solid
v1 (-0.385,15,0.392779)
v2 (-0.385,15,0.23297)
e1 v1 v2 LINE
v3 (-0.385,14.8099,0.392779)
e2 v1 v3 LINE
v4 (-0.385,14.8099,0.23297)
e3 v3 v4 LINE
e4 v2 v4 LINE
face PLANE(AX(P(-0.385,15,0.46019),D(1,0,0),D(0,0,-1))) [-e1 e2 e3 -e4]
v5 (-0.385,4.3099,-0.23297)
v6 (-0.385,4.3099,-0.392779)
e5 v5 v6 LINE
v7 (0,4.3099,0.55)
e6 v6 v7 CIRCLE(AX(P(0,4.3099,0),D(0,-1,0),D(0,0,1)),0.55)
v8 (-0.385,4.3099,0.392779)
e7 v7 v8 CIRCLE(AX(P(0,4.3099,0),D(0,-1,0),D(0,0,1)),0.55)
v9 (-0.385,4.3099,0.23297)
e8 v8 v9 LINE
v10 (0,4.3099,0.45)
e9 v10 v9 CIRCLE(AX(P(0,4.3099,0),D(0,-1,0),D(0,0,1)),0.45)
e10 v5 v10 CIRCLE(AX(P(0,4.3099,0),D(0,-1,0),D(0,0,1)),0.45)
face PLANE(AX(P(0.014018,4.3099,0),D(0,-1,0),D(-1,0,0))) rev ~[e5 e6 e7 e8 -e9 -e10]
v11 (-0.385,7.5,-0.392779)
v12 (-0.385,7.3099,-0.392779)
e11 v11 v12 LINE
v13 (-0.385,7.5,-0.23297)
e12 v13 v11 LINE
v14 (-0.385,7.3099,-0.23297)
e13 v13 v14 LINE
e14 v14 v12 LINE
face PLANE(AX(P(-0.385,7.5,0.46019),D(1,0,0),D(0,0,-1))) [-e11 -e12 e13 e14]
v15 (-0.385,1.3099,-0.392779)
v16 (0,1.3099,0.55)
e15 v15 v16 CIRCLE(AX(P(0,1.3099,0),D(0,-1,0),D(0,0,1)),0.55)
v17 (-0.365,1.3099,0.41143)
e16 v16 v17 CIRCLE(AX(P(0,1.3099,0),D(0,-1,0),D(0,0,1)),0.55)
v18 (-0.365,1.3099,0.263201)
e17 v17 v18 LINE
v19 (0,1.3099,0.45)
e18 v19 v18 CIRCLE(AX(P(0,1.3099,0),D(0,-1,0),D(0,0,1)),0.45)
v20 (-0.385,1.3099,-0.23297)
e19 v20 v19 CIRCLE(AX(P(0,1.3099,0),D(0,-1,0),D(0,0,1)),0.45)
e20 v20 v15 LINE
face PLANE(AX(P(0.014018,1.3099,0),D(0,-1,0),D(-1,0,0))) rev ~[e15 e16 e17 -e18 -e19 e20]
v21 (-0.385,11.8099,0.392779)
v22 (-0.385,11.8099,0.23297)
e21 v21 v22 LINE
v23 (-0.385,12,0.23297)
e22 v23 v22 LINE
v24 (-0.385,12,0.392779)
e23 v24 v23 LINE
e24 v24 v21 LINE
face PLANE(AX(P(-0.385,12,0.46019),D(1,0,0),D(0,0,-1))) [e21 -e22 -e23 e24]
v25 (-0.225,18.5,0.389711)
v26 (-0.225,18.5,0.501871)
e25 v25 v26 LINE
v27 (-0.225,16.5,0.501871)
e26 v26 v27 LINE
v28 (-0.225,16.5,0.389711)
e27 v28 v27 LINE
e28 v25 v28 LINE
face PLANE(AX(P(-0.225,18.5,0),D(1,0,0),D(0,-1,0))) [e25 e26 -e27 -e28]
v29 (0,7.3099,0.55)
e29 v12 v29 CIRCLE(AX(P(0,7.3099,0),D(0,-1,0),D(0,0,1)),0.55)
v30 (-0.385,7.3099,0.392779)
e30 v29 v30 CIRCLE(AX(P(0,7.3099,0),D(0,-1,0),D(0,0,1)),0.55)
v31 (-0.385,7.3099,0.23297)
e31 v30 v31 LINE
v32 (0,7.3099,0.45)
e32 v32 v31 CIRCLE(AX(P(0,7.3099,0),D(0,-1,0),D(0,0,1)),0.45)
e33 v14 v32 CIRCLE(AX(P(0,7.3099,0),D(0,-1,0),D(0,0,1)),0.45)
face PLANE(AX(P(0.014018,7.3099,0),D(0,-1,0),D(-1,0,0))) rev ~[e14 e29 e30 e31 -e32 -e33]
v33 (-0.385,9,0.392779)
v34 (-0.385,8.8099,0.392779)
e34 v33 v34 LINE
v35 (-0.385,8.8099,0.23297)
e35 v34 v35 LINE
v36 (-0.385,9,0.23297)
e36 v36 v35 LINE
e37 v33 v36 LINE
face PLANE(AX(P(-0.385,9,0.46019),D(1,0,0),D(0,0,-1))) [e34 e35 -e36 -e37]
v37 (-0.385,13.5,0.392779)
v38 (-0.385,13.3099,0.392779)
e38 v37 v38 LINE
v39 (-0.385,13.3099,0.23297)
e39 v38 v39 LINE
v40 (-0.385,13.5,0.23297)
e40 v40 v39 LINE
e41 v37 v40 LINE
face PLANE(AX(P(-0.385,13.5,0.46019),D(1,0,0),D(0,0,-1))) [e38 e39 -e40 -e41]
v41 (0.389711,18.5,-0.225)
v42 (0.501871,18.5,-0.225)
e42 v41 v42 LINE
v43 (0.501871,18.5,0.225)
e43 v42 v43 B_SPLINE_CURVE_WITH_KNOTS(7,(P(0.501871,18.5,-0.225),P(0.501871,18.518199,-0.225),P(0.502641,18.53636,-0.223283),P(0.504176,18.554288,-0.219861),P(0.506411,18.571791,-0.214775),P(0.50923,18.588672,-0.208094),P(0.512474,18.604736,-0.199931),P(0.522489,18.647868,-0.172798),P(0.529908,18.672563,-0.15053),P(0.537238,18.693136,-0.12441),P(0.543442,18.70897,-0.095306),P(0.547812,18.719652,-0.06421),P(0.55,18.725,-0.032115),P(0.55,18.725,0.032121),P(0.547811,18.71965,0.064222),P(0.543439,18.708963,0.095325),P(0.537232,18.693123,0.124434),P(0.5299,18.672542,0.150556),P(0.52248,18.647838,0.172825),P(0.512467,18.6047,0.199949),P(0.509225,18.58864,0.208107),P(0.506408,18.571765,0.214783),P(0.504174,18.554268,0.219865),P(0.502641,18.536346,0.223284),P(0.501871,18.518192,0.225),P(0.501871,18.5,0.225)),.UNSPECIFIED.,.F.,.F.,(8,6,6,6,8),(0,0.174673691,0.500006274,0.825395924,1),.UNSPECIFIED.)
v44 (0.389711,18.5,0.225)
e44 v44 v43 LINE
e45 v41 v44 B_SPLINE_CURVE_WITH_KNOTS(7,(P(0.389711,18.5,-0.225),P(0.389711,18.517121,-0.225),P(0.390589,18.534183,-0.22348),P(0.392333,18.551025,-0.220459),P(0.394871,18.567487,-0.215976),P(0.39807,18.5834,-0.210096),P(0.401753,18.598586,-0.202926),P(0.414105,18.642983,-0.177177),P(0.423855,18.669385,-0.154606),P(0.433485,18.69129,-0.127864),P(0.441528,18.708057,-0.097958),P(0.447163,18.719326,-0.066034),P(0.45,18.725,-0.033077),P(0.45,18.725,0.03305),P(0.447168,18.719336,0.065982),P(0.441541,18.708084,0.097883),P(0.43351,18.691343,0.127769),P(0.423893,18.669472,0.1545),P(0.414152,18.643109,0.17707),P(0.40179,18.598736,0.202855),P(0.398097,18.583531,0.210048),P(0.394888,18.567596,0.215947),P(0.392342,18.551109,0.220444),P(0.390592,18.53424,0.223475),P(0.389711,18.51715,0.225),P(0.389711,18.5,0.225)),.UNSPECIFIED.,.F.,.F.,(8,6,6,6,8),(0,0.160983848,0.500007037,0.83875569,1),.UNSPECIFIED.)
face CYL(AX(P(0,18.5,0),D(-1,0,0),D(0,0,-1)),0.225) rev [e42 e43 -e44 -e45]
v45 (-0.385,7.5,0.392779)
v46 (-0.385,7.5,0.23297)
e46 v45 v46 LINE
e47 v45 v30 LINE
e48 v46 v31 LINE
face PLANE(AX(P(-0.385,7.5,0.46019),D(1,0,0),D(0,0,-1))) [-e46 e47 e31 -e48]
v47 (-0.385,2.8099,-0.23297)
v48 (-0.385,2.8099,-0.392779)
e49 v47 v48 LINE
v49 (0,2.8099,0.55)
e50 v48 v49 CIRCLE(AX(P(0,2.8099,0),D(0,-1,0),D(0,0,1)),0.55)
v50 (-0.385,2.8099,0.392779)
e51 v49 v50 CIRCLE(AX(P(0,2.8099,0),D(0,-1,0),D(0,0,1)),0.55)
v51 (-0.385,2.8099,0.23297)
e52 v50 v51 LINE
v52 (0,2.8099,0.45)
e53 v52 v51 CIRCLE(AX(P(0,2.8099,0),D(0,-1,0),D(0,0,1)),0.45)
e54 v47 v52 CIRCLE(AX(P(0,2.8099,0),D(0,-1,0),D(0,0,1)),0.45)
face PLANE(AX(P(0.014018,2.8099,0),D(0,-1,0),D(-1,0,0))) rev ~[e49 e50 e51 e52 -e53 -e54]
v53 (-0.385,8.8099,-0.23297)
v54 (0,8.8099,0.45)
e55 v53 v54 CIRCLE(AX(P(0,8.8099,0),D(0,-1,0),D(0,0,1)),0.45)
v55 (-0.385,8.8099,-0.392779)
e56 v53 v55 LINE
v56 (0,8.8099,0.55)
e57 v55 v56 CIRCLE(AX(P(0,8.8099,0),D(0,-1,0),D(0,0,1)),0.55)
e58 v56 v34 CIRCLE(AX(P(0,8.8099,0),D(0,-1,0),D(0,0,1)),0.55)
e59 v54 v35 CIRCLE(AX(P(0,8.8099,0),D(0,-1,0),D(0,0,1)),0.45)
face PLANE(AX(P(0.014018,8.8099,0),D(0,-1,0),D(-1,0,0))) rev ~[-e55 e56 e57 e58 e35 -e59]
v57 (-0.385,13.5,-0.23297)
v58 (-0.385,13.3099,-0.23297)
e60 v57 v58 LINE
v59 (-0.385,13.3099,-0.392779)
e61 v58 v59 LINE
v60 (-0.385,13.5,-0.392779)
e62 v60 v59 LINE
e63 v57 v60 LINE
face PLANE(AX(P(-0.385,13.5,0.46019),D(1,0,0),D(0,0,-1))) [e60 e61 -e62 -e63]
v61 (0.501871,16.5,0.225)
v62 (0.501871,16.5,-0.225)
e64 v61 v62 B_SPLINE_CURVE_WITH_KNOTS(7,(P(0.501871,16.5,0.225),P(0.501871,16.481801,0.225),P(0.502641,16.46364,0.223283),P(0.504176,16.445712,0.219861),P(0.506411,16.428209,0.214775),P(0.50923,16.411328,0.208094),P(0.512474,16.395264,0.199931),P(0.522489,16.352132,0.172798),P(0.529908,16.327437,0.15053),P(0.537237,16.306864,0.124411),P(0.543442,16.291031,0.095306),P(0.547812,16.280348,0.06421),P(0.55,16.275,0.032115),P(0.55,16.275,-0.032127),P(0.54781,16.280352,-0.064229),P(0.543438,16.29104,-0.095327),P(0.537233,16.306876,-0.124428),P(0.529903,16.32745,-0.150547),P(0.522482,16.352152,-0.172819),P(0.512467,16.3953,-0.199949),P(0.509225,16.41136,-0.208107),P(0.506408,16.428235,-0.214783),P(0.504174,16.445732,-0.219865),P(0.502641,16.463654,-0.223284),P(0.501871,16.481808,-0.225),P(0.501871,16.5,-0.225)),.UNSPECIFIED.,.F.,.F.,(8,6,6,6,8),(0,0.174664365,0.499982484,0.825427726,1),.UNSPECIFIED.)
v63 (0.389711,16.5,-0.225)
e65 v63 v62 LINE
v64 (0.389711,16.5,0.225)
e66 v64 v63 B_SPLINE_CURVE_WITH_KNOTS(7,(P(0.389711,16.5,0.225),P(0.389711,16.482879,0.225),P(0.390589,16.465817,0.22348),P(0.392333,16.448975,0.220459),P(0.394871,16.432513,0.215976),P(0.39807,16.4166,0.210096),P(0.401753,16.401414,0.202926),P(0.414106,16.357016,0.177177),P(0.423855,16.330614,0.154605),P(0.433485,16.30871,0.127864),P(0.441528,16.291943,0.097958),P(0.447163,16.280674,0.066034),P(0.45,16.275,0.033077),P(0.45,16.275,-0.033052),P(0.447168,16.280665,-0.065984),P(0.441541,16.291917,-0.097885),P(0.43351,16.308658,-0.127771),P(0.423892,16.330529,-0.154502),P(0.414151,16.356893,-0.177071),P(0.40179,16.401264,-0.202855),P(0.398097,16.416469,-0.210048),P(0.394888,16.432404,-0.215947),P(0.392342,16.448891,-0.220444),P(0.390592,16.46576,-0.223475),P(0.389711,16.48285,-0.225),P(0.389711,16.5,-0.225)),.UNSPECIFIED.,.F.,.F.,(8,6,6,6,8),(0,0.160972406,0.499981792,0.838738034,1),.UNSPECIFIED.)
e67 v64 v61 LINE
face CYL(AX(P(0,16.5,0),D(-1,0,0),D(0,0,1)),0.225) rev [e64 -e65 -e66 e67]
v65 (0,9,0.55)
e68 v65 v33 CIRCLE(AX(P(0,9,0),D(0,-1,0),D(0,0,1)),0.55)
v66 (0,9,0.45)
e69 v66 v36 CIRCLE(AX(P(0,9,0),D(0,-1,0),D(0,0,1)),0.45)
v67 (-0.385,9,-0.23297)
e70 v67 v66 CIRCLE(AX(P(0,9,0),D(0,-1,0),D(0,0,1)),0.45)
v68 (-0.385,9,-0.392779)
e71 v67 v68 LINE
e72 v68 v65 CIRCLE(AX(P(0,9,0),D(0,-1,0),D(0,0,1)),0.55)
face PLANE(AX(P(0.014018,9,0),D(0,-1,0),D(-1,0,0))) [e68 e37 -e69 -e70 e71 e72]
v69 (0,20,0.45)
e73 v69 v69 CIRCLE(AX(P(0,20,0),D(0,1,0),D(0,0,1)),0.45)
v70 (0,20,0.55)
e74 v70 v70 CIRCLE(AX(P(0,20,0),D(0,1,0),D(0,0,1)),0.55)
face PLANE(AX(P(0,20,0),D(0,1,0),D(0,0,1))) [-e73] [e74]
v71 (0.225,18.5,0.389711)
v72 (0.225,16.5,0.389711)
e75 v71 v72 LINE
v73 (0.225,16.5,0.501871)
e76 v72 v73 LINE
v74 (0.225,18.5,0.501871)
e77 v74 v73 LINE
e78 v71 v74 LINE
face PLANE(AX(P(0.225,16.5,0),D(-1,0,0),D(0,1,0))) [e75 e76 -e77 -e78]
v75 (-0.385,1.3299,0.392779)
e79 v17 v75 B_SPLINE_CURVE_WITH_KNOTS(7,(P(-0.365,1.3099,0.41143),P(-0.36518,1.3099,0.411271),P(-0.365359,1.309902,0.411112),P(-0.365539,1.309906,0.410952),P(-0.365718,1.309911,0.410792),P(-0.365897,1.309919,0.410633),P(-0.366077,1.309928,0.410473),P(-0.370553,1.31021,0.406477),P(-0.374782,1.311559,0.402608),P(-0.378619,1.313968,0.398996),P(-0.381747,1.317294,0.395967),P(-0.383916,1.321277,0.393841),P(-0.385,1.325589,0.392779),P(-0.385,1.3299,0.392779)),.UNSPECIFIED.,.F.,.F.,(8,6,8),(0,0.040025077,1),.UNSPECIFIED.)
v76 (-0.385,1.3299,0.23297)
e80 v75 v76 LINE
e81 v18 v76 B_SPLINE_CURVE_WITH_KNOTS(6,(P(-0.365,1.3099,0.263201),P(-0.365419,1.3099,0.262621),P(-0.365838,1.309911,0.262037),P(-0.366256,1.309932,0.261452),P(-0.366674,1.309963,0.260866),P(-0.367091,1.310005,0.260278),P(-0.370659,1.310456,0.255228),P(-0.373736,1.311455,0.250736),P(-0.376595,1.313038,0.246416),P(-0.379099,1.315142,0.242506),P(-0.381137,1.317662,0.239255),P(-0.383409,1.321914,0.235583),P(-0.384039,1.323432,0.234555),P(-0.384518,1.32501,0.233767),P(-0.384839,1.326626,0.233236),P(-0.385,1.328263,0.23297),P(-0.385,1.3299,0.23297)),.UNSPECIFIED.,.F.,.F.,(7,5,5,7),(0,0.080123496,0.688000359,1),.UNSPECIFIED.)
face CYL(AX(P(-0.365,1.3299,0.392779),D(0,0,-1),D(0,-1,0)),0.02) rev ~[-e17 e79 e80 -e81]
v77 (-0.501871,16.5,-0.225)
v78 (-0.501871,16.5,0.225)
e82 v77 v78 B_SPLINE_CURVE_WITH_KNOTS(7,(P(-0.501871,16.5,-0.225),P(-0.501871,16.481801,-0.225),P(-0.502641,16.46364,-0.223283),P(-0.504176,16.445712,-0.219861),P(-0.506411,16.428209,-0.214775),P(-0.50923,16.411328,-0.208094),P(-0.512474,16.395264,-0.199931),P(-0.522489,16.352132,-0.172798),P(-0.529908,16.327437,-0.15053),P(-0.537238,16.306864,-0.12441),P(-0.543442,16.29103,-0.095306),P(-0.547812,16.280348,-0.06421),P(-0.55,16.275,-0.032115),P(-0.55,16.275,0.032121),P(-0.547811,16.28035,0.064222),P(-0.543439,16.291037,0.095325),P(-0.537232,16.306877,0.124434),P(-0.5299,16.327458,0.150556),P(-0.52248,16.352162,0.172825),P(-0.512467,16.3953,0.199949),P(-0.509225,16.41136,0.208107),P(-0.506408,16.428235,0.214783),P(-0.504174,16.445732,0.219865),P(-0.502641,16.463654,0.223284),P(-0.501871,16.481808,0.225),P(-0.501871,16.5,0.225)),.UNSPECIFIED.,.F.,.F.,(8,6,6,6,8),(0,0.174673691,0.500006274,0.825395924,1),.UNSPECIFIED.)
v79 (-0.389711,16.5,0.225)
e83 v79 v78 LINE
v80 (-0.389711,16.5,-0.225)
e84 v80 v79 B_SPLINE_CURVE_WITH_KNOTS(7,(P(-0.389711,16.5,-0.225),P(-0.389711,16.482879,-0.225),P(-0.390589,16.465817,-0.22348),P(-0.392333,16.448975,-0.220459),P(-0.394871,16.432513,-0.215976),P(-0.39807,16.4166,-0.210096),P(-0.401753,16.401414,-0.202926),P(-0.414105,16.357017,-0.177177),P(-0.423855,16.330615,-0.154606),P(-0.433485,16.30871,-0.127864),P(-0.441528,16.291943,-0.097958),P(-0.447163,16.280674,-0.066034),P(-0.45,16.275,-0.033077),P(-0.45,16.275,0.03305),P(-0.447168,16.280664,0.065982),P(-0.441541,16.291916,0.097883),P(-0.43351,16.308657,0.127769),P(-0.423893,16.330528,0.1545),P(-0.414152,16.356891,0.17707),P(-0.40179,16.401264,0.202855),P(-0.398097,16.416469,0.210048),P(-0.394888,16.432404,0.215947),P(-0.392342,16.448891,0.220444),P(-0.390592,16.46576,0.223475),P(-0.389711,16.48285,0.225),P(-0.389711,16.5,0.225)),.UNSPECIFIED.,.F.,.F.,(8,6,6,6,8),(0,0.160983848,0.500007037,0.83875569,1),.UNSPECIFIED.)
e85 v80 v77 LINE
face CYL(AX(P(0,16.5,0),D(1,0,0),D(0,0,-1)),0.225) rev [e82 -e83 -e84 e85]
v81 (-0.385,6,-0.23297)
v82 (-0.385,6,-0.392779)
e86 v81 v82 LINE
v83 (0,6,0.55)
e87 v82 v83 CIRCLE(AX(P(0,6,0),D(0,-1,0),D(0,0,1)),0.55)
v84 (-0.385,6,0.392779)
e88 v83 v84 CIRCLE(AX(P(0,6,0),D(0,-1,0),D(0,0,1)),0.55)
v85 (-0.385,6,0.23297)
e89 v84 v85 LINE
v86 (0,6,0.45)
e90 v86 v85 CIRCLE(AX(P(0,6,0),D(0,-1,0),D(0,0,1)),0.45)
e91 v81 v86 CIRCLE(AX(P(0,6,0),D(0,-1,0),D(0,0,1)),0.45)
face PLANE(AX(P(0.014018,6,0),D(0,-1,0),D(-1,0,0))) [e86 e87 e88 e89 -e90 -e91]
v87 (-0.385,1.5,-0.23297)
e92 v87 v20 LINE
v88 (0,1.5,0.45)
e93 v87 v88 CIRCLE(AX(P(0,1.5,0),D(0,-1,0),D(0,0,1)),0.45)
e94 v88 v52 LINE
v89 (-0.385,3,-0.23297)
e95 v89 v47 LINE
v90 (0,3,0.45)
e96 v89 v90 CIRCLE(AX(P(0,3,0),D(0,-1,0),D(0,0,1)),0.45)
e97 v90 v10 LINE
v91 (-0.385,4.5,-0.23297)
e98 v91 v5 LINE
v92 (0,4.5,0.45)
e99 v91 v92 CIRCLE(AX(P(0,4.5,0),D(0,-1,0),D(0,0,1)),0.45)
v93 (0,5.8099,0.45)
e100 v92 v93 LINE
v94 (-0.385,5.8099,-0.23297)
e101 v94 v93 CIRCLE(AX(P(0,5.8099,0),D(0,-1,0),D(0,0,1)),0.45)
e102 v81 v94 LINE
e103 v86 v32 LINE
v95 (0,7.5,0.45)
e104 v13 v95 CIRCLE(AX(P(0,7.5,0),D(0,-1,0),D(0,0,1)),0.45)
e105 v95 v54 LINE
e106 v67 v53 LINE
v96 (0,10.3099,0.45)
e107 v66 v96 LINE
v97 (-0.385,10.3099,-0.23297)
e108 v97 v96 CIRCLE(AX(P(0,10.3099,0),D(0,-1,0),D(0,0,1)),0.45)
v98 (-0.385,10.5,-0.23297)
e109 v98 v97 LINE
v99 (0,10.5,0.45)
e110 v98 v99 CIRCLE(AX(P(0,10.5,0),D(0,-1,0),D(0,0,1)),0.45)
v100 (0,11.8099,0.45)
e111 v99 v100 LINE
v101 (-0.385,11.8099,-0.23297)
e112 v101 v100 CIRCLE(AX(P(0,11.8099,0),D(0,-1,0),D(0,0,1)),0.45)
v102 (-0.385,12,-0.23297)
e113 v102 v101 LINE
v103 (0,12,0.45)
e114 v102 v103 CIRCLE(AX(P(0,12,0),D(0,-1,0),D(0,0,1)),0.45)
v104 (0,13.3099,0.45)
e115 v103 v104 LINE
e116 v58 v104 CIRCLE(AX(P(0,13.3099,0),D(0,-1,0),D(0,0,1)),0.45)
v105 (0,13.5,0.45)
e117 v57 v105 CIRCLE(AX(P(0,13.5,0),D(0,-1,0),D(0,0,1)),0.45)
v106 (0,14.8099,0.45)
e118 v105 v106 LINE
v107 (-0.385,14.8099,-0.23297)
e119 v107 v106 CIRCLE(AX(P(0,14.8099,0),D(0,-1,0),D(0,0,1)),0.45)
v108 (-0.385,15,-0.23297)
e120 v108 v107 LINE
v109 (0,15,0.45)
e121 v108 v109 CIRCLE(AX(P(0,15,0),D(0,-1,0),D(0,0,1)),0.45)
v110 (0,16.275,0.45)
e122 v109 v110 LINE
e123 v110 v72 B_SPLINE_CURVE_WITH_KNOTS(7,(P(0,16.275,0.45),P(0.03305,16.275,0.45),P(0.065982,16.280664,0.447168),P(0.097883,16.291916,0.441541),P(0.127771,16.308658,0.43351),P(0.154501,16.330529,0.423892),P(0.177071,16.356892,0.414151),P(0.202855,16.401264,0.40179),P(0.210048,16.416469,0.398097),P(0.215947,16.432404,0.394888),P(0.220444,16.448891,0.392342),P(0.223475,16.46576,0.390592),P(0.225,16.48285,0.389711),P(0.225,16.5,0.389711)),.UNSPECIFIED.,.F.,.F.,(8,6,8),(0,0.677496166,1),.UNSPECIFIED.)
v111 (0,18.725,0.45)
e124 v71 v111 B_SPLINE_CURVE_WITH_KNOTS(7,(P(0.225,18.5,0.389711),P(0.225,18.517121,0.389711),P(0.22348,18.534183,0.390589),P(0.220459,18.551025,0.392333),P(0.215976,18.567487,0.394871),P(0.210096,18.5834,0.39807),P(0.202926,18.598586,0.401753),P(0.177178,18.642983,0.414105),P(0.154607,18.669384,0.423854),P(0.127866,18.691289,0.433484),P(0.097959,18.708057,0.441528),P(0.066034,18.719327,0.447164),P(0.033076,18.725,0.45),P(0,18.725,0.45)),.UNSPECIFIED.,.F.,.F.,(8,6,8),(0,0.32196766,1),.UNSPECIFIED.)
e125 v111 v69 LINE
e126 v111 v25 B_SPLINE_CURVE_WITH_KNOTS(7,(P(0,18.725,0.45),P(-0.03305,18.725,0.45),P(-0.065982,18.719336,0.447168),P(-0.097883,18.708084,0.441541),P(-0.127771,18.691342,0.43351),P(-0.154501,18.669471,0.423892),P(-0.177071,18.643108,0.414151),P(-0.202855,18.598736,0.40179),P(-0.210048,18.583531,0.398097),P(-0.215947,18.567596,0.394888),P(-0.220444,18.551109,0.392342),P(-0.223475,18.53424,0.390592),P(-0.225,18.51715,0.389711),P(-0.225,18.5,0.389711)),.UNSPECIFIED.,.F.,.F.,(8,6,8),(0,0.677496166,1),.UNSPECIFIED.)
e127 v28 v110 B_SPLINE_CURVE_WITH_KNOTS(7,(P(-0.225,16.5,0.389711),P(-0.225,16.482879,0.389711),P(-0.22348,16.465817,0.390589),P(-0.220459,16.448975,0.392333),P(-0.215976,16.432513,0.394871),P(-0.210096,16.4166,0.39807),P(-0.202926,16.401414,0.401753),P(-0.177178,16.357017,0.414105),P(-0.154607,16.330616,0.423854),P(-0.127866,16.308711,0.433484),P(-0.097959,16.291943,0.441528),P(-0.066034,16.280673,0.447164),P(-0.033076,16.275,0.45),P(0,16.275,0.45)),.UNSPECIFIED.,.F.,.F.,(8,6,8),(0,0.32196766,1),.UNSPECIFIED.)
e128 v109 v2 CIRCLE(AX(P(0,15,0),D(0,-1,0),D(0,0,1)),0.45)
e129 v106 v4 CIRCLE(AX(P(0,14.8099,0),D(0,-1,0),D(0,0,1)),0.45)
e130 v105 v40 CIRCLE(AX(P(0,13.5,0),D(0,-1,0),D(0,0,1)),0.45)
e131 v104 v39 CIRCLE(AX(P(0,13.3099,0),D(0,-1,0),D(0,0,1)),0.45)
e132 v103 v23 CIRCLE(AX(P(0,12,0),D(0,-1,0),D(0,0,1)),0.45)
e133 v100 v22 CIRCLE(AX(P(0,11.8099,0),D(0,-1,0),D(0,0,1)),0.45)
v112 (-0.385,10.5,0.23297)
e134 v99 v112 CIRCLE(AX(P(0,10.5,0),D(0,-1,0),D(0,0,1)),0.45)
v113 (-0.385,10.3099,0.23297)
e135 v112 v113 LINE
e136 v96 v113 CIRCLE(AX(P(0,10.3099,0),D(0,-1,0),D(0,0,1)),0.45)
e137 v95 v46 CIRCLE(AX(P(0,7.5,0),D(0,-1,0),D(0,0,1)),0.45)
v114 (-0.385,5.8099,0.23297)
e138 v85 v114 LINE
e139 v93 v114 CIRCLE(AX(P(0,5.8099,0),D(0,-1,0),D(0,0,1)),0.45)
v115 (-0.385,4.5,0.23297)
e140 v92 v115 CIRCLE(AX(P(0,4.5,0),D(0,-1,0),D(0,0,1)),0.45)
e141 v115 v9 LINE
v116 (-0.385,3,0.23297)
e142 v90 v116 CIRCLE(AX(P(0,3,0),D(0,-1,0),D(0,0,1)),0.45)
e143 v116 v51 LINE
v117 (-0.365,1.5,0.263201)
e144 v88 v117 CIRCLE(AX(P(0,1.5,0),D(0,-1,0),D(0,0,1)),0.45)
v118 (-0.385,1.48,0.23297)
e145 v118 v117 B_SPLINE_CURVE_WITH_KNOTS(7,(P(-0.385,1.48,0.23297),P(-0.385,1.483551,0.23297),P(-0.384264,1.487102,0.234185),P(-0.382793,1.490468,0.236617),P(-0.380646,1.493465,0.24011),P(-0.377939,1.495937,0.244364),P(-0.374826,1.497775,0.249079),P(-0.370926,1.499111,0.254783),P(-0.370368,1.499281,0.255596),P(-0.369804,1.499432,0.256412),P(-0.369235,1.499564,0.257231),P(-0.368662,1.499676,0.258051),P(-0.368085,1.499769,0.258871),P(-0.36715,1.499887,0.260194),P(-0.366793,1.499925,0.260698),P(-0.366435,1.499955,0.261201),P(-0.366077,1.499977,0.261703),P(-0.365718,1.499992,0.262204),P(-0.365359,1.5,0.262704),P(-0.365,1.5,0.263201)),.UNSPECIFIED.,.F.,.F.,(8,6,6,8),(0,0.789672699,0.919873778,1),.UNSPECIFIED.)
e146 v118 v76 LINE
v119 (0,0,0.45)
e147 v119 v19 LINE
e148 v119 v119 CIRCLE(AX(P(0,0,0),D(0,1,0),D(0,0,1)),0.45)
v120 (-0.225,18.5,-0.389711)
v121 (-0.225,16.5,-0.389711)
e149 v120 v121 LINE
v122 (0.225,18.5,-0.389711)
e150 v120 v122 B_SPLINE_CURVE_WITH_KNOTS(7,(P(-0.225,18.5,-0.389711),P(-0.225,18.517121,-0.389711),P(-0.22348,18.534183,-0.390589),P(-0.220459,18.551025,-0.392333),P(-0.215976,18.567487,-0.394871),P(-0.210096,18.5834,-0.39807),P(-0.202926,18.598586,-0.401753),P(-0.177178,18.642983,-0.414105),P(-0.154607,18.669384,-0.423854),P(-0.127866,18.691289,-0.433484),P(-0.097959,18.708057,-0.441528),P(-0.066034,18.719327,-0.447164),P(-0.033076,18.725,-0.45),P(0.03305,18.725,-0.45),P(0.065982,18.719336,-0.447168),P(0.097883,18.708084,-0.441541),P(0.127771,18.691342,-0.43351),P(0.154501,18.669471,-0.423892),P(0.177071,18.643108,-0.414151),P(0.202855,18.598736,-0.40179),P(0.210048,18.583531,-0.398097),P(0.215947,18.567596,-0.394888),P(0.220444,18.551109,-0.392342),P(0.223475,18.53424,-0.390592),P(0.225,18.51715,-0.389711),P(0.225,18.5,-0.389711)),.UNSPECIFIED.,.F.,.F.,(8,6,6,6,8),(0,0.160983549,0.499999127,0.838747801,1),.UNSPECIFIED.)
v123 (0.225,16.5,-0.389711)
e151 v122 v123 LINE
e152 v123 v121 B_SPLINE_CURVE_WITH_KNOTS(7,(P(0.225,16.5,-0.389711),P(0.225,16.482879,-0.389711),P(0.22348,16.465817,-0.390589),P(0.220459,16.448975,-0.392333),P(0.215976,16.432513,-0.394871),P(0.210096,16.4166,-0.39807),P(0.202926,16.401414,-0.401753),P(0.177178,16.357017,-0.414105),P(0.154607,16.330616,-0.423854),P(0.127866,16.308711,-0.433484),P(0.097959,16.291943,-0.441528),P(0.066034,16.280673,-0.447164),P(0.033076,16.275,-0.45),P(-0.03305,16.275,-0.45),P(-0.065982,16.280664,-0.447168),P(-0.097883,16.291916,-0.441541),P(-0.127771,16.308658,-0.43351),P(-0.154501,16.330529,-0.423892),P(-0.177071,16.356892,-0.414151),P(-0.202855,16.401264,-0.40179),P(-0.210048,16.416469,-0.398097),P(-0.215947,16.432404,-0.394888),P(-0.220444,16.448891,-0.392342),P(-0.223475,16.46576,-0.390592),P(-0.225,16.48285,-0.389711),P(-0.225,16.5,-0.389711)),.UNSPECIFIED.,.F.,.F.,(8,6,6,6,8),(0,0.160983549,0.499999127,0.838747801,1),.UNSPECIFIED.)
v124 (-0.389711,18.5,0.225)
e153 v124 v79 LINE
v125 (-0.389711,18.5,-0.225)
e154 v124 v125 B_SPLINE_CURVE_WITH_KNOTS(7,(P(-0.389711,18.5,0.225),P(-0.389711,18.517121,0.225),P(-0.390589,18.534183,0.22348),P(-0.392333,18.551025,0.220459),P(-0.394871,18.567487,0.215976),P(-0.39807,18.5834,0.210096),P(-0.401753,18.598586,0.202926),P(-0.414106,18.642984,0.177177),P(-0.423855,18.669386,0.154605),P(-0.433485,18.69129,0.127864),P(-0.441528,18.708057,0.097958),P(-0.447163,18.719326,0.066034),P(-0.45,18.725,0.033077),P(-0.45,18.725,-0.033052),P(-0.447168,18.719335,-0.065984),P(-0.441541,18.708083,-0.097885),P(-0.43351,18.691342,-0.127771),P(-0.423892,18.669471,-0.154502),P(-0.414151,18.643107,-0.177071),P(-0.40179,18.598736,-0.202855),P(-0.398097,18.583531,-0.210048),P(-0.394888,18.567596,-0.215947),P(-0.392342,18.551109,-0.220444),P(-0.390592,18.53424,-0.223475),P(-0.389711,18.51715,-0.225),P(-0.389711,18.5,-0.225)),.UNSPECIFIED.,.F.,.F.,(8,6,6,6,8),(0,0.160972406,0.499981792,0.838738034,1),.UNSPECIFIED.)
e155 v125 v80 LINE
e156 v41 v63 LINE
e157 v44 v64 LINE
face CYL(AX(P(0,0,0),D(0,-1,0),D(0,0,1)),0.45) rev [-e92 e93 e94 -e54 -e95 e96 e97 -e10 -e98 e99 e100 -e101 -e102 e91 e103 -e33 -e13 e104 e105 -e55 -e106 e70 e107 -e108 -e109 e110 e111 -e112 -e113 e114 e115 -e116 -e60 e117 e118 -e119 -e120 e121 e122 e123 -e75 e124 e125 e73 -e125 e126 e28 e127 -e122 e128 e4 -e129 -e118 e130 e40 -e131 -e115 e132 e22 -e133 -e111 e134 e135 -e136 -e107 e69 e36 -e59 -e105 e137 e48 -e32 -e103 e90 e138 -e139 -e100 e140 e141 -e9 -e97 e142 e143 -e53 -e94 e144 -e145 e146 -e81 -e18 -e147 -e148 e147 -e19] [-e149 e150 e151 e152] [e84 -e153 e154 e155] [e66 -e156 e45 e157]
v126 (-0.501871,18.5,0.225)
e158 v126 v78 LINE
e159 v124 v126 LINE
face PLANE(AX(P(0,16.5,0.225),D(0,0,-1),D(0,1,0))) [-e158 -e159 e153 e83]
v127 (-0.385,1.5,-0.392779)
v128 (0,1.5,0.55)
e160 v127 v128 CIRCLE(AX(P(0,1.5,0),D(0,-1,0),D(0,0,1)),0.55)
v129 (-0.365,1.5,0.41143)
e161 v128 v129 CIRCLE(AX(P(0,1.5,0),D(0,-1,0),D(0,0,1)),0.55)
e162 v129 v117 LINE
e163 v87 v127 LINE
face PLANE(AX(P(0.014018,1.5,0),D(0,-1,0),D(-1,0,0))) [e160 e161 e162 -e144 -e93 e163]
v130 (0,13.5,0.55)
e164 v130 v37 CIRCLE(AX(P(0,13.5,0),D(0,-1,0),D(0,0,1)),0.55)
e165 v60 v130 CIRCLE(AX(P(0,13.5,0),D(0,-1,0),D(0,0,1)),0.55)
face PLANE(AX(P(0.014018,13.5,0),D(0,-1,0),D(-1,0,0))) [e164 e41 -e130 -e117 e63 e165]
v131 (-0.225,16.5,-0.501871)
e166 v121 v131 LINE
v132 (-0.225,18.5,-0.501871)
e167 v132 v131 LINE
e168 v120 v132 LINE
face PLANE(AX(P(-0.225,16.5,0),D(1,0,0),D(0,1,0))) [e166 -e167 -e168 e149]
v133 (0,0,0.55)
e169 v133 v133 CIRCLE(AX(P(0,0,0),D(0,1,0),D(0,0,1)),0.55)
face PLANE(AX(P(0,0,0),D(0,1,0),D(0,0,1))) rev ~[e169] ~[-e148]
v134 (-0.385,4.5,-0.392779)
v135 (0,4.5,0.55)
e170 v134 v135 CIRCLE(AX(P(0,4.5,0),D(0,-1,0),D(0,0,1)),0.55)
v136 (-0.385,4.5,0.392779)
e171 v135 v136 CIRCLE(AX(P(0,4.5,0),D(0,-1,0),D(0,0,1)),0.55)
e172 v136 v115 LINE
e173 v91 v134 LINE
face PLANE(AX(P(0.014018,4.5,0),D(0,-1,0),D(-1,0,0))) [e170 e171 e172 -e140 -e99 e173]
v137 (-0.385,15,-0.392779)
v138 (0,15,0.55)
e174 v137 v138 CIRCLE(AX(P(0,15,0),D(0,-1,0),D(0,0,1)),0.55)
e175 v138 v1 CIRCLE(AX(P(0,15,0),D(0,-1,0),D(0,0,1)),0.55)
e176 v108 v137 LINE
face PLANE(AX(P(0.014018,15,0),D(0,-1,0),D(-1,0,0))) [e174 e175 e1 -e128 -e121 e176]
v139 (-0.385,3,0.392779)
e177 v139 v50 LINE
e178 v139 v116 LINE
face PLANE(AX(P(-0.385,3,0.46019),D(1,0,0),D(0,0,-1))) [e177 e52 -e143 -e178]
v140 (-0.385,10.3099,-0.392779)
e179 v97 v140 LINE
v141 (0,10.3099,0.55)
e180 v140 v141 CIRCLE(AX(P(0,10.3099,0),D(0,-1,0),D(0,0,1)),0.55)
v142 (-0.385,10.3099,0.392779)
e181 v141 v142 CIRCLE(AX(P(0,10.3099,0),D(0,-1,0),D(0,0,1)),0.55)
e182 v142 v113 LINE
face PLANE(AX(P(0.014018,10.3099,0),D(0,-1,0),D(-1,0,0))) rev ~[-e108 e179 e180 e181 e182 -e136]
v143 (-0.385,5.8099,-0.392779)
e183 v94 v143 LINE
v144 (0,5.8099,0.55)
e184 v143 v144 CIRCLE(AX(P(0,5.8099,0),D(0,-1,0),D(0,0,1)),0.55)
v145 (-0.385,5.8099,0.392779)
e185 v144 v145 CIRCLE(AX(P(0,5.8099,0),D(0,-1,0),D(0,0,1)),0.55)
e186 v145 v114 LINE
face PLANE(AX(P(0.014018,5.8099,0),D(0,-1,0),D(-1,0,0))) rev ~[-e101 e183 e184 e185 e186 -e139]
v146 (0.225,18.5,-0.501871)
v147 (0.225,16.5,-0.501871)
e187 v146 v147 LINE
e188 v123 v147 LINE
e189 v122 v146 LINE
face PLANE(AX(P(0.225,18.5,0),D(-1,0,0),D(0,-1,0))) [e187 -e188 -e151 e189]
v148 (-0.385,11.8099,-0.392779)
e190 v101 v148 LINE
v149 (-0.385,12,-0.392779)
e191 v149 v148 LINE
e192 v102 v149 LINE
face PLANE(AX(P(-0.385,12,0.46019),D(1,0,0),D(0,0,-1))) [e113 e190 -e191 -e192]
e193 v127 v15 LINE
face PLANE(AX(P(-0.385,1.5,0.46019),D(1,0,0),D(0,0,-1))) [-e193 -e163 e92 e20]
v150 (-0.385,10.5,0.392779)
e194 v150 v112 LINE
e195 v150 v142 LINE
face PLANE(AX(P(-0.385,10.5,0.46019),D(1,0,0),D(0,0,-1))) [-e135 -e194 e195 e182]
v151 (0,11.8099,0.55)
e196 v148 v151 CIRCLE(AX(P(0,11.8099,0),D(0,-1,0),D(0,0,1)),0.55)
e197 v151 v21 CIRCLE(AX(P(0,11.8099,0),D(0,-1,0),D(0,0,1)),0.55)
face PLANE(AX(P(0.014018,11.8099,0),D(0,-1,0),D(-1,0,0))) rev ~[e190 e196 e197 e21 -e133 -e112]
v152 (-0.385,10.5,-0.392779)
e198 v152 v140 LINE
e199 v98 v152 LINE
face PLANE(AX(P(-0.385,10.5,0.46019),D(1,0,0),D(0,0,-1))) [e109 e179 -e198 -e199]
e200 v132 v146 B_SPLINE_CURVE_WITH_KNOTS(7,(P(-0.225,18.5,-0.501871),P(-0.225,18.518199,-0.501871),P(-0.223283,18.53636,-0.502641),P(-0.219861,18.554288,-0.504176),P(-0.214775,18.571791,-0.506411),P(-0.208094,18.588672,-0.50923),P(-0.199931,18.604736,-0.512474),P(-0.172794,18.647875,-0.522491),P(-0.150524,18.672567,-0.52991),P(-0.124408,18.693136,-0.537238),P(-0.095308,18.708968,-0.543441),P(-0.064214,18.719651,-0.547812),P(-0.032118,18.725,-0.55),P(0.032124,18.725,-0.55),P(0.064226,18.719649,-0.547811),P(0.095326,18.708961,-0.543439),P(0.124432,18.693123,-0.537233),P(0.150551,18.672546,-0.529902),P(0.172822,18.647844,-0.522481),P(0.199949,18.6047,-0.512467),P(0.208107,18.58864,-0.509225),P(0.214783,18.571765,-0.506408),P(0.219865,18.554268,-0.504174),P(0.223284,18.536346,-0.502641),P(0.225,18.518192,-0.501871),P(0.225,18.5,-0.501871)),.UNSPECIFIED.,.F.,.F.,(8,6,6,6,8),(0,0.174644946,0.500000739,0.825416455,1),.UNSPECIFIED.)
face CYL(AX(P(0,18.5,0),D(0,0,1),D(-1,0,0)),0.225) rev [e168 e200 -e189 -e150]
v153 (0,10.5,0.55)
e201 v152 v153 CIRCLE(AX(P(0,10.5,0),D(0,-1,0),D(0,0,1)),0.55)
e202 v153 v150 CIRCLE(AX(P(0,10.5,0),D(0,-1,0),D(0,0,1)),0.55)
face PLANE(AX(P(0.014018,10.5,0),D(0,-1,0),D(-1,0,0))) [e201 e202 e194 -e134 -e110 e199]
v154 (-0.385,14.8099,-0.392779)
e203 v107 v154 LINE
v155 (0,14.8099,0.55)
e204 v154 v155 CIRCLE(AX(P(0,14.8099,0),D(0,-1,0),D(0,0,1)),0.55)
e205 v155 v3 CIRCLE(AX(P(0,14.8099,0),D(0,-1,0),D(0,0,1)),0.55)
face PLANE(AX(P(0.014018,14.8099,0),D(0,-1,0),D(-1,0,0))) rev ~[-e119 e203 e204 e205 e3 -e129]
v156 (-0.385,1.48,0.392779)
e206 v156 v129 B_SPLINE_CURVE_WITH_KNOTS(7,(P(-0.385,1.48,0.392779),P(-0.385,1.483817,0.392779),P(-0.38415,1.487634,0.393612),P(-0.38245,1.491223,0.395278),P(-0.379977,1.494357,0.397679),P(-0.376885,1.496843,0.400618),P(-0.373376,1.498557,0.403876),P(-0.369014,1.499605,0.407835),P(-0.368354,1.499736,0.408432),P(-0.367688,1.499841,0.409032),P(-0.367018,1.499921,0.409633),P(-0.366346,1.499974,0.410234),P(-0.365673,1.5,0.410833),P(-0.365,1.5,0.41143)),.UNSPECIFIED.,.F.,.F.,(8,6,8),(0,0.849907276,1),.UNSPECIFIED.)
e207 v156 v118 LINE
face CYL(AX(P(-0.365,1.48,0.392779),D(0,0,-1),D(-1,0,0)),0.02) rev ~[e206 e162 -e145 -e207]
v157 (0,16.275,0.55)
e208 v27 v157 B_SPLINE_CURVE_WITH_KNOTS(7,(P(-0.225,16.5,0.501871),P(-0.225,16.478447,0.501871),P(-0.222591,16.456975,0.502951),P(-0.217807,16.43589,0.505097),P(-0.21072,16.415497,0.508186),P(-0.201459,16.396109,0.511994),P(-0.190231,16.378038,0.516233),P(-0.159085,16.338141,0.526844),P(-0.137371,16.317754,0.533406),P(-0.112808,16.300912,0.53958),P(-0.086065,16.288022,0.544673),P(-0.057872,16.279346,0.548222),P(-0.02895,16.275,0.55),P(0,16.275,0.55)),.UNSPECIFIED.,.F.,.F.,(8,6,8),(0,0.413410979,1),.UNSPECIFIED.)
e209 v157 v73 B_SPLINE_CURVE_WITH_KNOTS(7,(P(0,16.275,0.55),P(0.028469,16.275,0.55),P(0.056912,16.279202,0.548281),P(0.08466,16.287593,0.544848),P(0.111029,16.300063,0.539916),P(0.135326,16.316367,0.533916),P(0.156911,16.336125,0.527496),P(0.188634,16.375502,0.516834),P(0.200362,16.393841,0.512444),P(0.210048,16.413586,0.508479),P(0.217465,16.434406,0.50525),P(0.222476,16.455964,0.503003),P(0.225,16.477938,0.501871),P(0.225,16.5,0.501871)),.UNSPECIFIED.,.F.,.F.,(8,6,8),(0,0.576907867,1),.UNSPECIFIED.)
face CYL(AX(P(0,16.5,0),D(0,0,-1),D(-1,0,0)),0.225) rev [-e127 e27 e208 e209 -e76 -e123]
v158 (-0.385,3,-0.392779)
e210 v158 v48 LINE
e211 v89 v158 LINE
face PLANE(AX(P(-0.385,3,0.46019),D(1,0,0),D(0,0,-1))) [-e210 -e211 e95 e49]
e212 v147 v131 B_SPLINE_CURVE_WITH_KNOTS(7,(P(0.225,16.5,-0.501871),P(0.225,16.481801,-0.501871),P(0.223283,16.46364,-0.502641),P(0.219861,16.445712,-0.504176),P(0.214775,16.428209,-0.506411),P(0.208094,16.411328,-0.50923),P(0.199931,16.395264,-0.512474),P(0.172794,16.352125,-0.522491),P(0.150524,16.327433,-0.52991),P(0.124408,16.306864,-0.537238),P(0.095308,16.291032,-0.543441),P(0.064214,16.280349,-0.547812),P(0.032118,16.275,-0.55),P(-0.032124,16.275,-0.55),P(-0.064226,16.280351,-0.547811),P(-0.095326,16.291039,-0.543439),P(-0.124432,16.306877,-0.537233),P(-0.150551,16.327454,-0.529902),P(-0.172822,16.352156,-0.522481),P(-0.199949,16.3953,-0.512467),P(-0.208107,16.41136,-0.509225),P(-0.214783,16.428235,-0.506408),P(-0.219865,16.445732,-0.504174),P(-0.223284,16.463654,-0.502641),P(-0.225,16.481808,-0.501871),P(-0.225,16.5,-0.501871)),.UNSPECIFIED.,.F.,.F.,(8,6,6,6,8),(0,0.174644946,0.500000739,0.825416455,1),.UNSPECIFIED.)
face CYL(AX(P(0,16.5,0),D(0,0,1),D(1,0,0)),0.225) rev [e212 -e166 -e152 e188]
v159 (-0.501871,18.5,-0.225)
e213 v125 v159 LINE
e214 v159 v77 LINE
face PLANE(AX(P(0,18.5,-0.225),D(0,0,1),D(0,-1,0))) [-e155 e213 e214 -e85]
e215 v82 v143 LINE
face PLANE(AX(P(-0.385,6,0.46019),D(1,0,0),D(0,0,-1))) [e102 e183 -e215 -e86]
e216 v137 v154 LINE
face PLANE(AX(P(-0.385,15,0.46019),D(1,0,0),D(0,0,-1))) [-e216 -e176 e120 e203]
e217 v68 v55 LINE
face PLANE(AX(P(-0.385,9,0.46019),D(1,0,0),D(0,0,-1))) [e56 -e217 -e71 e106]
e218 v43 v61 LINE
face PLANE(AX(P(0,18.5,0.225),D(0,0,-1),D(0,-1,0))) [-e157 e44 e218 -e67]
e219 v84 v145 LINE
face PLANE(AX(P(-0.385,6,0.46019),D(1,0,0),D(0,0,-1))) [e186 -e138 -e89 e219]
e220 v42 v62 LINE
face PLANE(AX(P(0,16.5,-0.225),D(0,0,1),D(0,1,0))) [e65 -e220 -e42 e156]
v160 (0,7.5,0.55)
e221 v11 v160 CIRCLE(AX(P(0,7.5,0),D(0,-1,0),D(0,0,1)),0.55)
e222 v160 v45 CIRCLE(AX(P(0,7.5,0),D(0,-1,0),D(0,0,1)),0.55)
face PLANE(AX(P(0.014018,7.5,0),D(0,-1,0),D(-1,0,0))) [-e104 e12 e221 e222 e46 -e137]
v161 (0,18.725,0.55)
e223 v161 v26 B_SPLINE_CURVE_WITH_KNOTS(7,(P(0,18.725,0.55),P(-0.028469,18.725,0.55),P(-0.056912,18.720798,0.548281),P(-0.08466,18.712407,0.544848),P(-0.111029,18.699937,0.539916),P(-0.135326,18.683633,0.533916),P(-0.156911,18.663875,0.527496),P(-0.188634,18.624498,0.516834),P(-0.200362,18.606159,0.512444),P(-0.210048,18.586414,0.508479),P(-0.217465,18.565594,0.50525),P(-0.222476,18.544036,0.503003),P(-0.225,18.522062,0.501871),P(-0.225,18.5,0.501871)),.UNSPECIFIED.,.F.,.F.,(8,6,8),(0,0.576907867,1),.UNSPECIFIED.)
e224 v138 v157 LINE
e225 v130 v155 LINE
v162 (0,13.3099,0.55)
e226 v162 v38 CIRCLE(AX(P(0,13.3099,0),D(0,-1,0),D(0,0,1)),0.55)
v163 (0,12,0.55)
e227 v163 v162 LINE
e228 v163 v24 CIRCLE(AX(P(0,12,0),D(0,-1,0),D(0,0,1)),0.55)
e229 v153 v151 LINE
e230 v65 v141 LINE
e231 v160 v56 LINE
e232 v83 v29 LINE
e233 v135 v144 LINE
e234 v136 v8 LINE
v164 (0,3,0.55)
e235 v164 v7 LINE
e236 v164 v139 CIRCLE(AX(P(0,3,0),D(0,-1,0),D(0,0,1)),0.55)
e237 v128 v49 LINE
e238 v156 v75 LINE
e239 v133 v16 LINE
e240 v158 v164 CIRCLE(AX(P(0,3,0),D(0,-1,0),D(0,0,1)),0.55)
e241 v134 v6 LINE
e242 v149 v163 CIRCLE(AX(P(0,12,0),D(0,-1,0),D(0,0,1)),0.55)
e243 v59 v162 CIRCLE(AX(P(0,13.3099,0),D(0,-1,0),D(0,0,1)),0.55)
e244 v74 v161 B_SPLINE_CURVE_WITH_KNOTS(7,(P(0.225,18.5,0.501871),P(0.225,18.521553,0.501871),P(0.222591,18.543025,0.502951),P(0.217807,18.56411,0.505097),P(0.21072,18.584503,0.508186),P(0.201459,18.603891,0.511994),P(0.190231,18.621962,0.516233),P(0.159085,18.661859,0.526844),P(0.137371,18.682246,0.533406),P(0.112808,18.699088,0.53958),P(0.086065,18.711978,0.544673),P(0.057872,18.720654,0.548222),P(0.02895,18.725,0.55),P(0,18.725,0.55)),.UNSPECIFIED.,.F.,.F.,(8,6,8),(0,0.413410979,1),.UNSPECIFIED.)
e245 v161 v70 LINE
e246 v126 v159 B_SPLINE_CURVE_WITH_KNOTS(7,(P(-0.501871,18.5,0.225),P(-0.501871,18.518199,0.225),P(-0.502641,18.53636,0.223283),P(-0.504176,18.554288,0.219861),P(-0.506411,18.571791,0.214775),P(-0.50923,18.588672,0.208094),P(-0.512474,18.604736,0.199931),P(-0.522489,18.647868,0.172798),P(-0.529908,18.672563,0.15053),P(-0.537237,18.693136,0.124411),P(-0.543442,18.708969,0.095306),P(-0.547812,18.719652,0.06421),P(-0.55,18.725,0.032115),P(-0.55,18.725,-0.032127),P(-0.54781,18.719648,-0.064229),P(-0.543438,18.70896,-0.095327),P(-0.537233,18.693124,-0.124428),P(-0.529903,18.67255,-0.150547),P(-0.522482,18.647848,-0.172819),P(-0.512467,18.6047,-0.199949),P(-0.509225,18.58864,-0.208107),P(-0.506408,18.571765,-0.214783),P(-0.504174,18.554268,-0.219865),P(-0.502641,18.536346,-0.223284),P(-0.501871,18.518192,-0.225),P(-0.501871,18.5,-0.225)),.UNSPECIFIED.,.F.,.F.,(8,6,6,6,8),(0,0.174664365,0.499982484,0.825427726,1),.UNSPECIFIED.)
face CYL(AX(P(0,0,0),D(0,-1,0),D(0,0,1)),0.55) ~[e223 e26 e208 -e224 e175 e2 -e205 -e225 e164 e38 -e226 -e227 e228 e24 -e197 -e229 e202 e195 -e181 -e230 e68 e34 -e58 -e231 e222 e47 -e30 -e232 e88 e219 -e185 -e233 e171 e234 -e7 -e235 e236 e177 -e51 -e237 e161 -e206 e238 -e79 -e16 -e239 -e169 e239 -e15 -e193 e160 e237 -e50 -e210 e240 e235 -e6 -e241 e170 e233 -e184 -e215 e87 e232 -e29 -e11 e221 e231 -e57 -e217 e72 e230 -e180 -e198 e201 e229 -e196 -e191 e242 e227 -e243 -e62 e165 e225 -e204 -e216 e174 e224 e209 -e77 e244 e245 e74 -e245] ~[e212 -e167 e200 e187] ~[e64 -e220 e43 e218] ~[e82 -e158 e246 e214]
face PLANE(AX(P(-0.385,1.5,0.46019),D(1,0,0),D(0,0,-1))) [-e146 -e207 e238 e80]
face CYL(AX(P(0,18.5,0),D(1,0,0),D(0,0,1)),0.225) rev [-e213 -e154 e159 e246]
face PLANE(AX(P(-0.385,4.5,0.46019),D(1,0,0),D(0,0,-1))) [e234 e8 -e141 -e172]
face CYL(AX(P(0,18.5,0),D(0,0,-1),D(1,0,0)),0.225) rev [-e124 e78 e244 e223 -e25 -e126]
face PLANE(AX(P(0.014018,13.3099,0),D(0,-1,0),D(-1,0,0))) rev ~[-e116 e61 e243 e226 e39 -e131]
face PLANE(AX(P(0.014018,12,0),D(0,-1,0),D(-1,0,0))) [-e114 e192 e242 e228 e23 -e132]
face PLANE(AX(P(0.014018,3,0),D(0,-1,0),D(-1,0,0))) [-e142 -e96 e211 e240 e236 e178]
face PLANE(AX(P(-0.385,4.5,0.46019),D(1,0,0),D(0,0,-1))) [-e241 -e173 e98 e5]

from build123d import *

# Parameters (mm, degrees)
SKETCH2_R           = 0.55
SKETCH2_R_2         = 0.45
BOSS_EXTRUDE1_DEPTH = 20
CUT_EXTRUDE1_START  = 1.5
CUT_EXTRUDE1_DEPTH  = 0.1901
LPATTERN2_COUNT     = 10
LPATTERN2_PITCH     = 1.5
CUT_EXTRUDE3_DEPTH  = 21.015119285
CIRPATTERN2_COUNT   = 4
FILLET2_R           = 0.02


with BuildPart() as part:
    # Sketch2 → Boss-Extrude1 (new body)
    with BuildSketch(Plane(origin=(0, 0, 0), x_dir=(1, 0, 0), z_dir=(0, 1, 0))):
        Circle(SKETCH2_R)
        Circle(SKETCH2_R_2, mode=Mode.SUBTRACT)
    extrude(amount=BOSS_EXTRUDE1_DEPTH)

    # Sketch3 → Cut-Extrude1 (cut)
    with BuildSketch(Plane(origin=(0, 0, 0), x_dir=(1, 0, 0), z_dir=(0, 1, 0)).offset(CUT_EXTRUDE1_START)):
        with BuildLine():
            Line((-0.385, -0.460190178), (-0.385, 0.460190178))
            ThreePointArc((-0.385, 0.460190178), (0.6, 0), (-0.385, -0.460190178))
        make_face()
    cut_extrude1 = extrude(amount=-CUT_EXTRUDE1_DEPTH, mode=Mode.SUBTRACT)

    # LPattern2: Cut-Extrude1 ×10
    with Locations(*[(0, i * LPATTERN2_PITCH, 0) for i in range(1, LPATTERN2_COUNT)]):
        add(cut_extrude1, mode=Mode.SUBTRACT)

    # Sketch5 → Cut-Extrude3 (cut, through all)
    with BuildSketch(Plane.XY):
        with BuildLine():
            Line((0.225, 18.5), (0.225, 16.5))
            ThreePointArc((0.225, 16.5), (0, 16.275), (-0.225, 16.5))
            Line((-0.225, 16.5), (-0.225, 18.5))
            ThreePointArc((-0.225, 18.5), (0, 18.725), (0.225, 18.5))
        make_face()
    cut_extrude3 = extrude(amount=-CUT_EXTRUDE3_DEPTH, mode=Mode.SUBTRACT)

    # CirPattern2: Cut-Extrude3 ×4 about axis
    cirpattern2_axis = Axis((0, 31.5, 0), (0, -1, 0))
    for i in range(1, CIRPATTERN2_COUNT):
        add(cut_extrude3.rotate(cirpattern2_axis, i * 360 / CIRPATTERN2_COUNT), mode=Mode.SUBTRACT)

    # Fillet2
    fillet2_edges = [part.edges().sort_by_distance(p)[0] for p in [
        (-0.385, 1.5, 0.312874259),
        (-0.385, 1.3099, 0.312874259),
    ]]
    fillet(fillet2_edges, radius=FILLET2_R)


solid = part.part
